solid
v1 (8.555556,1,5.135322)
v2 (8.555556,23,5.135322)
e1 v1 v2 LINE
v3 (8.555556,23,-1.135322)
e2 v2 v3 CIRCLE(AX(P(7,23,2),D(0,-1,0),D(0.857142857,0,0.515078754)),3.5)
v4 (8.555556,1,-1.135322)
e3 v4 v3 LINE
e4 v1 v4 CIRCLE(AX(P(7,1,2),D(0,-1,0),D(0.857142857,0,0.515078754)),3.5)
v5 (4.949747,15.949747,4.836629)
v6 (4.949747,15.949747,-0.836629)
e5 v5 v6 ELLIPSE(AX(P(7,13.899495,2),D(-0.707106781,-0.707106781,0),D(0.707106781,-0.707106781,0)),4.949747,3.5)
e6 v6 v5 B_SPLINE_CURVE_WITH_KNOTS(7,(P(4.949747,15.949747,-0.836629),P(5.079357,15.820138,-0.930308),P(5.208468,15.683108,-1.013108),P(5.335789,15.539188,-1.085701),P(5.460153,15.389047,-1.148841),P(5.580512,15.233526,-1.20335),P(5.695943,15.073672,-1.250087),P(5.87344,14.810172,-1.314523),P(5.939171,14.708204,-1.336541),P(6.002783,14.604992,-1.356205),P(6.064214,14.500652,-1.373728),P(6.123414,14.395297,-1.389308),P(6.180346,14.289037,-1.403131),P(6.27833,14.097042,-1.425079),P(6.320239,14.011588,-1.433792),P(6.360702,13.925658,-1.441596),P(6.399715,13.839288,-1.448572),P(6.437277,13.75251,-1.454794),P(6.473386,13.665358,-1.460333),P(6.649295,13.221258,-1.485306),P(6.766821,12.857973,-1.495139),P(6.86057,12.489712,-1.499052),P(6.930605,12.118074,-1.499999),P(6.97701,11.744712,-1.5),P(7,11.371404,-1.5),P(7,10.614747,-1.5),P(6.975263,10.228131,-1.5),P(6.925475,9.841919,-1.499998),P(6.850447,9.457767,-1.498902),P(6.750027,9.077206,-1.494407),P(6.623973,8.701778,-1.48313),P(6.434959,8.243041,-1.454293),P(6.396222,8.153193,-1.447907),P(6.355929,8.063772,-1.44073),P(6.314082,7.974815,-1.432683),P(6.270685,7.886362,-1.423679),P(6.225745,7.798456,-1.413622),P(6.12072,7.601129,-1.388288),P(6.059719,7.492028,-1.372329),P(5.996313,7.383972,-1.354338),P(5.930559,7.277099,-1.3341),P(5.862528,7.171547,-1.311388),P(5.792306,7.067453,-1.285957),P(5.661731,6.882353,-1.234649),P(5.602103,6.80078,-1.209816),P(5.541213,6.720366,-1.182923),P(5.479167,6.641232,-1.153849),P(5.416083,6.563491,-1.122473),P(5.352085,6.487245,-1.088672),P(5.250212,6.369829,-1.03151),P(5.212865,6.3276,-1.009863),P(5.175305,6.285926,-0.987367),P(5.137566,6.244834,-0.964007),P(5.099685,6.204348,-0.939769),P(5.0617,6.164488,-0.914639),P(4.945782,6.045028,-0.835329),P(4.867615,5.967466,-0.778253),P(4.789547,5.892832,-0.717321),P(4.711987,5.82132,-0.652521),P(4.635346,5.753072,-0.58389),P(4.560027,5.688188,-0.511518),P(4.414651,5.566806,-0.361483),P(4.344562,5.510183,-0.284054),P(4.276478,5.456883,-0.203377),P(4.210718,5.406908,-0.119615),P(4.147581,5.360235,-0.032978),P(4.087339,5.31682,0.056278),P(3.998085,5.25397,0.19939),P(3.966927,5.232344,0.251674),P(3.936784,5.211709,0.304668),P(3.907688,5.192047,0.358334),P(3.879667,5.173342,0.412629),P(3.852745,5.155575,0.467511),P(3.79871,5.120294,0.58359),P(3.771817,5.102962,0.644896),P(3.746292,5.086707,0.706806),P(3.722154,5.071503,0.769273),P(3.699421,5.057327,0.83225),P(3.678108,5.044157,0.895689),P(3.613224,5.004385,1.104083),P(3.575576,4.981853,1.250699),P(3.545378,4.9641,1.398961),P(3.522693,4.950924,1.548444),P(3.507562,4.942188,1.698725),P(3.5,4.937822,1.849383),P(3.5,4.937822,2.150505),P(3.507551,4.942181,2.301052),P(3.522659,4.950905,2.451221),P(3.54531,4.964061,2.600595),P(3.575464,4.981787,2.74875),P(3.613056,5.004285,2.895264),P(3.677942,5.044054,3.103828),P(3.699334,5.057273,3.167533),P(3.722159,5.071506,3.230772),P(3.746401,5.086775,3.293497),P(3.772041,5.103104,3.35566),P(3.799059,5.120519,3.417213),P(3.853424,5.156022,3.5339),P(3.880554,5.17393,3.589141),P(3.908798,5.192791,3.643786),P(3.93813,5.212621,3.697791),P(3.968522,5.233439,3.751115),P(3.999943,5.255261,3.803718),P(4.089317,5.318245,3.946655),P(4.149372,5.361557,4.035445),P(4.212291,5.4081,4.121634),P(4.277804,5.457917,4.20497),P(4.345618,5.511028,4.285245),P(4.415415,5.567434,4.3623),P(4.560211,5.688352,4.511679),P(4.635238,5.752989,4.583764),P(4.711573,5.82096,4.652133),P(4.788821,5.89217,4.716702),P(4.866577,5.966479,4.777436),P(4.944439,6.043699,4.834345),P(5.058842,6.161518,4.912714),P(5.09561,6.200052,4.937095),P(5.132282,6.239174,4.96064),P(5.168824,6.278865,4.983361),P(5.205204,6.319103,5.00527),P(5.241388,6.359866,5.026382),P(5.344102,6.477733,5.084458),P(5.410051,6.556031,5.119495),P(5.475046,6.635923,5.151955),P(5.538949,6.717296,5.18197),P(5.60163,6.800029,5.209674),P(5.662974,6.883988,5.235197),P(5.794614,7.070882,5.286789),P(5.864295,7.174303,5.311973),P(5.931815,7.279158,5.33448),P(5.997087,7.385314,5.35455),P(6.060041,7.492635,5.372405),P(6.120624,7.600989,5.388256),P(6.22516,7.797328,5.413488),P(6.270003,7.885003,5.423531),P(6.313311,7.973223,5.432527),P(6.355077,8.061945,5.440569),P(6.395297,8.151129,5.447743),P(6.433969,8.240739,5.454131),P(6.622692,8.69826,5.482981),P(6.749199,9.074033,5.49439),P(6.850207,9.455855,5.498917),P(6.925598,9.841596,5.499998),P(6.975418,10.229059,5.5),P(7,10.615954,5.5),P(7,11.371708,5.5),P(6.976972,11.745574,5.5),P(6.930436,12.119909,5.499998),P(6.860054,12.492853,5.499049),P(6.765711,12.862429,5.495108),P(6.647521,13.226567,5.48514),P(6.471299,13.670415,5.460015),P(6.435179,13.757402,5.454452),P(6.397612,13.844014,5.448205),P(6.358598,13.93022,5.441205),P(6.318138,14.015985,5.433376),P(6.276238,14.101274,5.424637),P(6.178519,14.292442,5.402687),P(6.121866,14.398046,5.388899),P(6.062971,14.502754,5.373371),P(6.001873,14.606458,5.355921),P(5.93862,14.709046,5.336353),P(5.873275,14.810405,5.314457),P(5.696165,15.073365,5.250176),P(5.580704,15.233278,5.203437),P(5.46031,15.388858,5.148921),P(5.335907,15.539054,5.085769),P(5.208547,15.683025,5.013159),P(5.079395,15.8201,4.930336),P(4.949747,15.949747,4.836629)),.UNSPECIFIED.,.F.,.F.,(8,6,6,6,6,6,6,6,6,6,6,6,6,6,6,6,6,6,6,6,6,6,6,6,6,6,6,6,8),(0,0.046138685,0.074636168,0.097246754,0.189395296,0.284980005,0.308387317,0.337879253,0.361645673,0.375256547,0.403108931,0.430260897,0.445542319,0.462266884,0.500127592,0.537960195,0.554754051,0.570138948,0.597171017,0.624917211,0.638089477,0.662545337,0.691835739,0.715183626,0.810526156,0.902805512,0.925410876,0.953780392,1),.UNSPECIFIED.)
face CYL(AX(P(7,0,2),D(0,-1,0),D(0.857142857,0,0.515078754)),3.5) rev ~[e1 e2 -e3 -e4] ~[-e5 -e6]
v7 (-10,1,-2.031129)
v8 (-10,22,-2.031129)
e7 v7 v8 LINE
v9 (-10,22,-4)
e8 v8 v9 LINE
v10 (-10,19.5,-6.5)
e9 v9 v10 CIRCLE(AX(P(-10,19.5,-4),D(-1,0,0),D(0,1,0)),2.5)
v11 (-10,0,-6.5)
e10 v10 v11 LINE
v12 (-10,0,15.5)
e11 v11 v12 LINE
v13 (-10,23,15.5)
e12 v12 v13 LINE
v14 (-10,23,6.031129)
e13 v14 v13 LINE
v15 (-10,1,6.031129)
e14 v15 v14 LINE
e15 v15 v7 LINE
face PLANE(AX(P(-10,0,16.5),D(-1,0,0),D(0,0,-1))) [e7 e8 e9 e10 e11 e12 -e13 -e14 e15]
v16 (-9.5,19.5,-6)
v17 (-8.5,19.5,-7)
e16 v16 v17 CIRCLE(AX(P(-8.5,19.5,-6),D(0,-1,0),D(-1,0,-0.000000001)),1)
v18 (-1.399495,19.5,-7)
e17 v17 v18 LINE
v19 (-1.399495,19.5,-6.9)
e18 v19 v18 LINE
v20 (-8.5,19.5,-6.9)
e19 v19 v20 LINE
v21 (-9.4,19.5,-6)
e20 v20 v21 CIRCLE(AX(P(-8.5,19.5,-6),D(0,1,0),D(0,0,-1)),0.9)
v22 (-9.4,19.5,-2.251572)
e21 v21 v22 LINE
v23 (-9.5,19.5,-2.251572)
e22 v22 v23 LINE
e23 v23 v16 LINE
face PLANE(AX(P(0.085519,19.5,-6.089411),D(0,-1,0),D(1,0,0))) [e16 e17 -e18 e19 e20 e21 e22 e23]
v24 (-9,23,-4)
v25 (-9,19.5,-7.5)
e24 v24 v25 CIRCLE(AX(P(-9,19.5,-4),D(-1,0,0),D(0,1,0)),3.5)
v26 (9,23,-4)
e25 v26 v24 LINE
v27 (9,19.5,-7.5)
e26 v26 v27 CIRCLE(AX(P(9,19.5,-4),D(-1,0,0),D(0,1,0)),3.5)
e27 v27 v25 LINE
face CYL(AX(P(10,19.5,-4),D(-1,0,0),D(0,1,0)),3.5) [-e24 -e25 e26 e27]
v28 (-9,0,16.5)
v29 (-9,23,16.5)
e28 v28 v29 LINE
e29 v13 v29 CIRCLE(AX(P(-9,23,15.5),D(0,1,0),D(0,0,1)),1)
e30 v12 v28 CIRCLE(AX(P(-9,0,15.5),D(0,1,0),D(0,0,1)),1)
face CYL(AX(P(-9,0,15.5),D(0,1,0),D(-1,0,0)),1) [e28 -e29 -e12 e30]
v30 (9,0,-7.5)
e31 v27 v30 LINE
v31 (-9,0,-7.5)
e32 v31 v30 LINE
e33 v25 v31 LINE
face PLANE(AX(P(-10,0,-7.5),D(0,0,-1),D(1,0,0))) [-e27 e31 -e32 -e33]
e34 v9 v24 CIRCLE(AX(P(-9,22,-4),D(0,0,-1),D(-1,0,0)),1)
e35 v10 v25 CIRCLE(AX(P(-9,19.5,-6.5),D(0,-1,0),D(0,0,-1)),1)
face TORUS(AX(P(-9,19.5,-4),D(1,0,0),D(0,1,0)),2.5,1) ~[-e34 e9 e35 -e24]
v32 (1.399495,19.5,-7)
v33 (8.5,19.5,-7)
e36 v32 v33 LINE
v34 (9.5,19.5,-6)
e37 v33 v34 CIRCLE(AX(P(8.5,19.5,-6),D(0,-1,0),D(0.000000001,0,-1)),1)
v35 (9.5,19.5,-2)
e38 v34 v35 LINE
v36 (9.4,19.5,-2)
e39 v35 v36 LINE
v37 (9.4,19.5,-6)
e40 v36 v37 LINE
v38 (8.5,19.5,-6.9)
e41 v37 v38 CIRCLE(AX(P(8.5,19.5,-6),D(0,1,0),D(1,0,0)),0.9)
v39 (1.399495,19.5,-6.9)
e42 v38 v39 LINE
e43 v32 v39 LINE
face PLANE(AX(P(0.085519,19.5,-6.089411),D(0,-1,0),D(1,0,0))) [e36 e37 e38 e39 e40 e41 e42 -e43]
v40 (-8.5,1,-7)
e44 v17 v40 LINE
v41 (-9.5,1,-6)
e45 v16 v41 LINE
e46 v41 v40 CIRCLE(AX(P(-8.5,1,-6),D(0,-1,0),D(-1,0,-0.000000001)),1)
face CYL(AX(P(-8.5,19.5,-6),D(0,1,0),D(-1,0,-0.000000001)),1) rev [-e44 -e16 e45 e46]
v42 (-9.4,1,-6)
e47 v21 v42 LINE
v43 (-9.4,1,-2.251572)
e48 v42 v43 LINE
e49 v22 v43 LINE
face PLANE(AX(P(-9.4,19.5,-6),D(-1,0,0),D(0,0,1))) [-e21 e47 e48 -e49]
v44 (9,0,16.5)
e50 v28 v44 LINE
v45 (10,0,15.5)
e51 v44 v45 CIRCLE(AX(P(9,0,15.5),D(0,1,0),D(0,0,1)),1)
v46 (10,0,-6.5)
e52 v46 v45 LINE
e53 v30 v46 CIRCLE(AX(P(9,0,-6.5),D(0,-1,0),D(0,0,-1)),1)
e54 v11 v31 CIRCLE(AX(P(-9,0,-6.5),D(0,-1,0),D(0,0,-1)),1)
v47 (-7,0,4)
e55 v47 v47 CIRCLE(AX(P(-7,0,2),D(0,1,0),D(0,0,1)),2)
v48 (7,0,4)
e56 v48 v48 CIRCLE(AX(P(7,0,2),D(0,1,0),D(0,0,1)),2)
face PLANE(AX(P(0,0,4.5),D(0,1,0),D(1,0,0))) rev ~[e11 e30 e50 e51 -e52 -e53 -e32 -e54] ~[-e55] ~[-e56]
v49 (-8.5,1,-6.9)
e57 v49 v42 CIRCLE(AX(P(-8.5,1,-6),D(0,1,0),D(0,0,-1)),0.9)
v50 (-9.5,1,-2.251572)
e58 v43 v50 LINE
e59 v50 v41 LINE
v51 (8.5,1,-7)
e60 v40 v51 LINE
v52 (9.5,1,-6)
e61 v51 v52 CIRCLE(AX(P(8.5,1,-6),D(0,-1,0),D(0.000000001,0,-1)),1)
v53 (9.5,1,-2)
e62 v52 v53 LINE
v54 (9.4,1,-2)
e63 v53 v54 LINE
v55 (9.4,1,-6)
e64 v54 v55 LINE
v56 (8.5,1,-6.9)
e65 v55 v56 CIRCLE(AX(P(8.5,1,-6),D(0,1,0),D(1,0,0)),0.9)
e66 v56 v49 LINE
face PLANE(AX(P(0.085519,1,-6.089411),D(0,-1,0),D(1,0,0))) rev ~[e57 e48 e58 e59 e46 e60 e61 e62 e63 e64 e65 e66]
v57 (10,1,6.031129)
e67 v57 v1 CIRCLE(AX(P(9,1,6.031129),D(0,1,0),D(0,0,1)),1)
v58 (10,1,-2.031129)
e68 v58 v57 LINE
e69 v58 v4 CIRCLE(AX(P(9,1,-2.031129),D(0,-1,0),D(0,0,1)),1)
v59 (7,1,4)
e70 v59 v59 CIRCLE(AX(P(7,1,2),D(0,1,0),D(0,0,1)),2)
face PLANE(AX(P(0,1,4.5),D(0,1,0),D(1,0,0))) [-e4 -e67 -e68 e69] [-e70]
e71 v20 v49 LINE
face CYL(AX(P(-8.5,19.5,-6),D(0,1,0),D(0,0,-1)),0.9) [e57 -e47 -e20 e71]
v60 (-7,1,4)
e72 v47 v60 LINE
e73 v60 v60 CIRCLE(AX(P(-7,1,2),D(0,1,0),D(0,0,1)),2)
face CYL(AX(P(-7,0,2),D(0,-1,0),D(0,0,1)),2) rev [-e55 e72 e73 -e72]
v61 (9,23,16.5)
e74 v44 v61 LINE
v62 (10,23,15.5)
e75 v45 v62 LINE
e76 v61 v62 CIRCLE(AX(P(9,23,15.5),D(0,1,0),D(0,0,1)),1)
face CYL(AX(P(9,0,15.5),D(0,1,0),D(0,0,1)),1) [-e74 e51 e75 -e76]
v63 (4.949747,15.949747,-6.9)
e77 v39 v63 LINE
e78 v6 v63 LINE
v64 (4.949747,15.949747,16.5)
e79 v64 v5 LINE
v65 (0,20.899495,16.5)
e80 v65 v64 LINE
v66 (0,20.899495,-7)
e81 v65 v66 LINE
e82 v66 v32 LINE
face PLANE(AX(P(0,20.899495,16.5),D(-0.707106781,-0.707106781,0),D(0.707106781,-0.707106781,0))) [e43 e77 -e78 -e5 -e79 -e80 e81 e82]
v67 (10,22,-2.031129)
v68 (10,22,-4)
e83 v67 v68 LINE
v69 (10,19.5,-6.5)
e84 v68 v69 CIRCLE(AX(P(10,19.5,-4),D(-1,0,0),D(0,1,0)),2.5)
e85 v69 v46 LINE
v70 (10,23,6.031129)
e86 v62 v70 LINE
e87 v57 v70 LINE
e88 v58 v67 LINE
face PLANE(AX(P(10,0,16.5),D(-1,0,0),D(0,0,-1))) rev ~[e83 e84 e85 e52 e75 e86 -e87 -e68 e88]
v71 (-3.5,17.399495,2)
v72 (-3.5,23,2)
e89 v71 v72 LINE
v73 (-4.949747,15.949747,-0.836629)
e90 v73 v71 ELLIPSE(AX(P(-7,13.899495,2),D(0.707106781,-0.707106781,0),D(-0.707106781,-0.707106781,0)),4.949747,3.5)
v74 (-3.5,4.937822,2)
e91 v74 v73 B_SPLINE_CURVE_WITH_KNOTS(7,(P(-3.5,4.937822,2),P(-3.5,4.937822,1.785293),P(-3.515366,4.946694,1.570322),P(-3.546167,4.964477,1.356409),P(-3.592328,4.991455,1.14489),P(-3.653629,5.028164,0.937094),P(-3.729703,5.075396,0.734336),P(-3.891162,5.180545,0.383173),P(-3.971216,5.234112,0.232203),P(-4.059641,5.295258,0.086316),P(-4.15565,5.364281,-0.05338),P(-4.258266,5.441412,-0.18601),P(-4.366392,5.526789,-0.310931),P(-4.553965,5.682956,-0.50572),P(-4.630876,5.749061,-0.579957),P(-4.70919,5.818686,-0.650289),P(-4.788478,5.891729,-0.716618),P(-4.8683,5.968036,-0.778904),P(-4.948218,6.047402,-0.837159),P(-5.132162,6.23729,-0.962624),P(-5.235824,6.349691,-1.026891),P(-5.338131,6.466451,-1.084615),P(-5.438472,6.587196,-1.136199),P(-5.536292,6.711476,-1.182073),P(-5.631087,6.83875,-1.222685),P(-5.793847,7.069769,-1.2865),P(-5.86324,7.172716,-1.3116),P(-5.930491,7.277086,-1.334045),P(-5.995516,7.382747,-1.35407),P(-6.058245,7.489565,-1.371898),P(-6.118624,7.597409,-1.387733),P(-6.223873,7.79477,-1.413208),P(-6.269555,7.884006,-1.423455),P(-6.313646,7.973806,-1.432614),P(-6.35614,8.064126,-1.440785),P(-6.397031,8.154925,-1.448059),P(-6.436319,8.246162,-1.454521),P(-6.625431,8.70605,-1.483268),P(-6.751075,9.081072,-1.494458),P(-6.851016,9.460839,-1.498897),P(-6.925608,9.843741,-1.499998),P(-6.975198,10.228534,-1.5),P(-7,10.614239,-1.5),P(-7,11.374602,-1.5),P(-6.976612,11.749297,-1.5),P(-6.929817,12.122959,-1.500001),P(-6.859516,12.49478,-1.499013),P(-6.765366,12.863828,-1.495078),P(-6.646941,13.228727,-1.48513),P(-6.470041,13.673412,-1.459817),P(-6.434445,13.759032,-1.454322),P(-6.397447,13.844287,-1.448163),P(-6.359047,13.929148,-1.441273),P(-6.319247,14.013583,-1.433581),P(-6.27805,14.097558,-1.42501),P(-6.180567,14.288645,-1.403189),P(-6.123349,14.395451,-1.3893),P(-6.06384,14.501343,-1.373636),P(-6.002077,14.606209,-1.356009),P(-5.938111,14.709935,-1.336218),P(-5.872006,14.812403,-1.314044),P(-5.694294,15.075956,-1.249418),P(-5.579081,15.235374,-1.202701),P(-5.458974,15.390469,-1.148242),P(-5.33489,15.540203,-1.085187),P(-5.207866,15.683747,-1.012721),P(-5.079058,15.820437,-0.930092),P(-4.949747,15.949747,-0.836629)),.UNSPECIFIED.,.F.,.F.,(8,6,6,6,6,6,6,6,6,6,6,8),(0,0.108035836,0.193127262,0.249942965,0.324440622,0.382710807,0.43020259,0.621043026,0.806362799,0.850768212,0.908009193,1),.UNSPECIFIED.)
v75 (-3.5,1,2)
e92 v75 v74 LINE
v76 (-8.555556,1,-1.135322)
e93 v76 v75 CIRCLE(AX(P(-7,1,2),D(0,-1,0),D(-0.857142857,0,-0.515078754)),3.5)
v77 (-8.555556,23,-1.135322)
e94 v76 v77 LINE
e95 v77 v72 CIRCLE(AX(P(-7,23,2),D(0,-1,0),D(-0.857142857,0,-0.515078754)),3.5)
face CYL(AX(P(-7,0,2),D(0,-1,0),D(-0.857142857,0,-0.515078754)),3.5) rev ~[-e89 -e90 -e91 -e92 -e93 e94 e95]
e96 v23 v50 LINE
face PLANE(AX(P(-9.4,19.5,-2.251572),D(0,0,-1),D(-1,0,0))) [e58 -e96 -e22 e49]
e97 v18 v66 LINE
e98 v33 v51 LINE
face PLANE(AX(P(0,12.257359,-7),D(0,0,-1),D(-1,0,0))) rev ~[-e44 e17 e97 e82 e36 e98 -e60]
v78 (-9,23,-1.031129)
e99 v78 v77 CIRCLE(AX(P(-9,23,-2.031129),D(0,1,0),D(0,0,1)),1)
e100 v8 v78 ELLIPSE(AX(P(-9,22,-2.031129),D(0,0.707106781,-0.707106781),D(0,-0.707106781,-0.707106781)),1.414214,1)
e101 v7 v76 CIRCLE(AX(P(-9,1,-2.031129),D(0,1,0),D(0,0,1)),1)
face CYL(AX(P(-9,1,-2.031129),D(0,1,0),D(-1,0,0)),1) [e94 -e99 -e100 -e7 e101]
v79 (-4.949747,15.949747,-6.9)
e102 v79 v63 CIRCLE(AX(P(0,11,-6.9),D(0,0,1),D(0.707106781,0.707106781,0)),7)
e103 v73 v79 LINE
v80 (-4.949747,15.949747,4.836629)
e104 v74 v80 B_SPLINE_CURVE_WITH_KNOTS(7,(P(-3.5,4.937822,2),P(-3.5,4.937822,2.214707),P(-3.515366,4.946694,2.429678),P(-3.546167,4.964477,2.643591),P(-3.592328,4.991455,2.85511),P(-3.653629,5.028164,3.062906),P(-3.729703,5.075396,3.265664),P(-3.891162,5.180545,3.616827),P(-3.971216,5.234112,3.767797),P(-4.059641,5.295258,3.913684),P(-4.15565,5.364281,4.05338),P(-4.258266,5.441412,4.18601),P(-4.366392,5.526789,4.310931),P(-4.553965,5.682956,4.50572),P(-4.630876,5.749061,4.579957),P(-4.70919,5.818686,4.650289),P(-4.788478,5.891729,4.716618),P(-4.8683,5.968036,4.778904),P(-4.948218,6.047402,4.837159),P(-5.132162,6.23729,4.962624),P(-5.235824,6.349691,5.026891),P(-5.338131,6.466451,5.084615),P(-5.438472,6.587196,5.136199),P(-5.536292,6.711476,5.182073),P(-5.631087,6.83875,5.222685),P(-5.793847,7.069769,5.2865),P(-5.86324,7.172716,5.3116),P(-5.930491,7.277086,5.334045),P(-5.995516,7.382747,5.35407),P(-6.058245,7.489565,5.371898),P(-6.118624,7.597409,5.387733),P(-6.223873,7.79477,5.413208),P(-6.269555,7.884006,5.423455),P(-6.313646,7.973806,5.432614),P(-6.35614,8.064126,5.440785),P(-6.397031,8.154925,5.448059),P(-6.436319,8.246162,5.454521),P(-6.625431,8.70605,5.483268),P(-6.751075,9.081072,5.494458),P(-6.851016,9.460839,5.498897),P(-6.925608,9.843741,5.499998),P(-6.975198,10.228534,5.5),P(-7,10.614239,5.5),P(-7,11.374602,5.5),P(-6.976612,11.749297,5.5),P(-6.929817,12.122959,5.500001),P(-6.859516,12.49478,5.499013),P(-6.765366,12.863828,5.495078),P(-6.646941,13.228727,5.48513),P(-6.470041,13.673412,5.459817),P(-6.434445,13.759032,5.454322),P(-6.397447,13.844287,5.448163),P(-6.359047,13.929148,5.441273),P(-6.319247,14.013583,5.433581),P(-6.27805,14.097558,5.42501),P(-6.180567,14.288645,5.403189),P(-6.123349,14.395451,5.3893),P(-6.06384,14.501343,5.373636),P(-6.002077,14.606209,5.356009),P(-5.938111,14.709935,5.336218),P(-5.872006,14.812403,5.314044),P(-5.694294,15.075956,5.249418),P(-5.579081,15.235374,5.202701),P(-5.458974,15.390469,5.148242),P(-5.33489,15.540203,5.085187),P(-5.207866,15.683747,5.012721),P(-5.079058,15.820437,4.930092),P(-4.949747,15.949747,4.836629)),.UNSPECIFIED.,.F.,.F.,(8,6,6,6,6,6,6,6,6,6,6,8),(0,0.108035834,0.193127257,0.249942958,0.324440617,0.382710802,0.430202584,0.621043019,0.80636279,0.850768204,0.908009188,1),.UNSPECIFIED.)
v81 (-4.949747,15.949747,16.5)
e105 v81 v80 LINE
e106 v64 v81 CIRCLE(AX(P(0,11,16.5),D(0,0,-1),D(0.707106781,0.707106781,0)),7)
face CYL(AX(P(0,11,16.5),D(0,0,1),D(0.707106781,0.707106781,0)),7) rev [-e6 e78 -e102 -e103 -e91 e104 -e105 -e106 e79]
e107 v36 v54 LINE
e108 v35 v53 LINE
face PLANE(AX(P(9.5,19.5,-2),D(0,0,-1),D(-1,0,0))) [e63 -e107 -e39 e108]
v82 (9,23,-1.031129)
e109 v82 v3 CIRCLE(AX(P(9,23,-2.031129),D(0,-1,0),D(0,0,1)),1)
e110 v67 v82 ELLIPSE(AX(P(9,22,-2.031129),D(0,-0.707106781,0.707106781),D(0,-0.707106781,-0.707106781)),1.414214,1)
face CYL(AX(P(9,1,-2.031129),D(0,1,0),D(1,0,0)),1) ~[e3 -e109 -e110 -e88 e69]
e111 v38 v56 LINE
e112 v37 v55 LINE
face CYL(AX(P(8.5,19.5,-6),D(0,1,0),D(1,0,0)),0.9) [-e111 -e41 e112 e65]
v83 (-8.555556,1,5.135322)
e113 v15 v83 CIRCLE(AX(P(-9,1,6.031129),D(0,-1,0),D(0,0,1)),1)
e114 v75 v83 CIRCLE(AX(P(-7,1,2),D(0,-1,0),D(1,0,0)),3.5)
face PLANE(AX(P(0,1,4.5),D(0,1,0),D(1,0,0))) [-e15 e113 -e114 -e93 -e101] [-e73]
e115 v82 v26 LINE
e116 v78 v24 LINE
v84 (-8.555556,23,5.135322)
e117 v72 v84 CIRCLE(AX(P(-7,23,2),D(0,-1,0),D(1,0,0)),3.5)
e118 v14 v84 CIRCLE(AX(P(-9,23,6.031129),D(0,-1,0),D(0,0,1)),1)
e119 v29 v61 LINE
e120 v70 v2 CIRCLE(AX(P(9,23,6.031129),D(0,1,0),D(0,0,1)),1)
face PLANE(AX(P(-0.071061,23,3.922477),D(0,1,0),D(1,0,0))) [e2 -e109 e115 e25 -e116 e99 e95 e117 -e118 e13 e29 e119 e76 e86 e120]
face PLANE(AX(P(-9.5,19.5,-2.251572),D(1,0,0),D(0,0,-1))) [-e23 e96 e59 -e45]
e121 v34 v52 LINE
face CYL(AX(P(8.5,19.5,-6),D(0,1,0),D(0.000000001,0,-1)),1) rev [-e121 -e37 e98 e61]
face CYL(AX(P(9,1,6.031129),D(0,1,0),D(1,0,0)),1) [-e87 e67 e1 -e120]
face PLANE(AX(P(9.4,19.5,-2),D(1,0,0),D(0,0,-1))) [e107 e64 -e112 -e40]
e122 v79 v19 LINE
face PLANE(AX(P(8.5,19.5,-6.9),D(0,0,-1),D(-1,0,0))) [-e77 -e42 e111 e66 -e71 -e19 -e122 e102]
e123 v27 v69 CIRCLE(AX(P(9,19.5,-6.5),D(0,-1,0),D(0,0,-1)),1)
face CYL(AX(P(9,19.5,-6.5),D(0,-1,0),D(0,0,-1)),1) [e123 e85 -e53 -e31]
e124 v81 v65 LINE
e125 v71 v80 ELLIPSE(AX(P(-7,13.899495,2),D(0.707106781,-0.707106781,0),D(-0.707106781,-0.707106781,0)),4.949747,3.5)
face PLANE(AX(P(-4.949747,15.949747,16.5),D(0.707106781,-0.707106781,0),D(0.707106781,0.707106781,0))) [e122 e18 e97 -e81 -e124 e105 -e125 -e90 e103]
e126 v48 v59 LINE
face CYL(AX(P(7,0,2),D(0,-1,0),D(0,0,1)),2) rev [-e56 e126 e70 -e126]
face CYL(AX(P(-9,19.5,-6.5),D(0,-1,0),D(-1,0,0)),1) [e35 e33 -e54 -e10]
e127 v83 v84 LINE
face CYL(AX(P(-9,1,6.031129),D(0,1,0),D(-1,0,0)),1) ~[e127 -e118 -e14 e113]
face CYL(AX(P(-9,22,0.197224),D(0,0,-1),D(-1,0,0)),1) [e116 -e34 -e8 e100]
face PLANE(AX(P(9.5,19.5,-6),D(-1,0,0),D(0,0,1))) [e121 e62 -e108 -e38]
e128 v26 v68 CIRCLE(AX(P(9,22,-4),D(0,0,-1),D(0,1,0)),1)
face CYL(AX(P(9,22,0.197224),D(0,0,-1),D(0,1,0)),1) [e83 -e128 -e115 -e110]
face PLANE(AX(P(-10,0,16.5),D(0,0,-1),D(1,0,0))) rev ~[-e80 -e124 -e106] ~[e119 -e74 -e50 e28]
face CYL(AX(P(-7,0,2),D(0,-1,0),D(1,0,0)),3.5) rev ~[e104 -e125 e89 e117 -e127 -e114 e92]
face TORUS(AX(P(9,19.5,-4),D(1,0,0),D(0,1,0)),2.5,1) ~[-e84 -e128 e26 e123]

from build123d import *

# Parameters (mm, degrees)
SKETCH1_W           = 20
SKETCH1_H           = 24
SKETCH1_R           = 2
BOSS_EXTRUDE2_DEPTH = 1
BOSS_EXTRUDE3_DEPTH = 23
SKETCH1_5_R         = 2
BOSS_EXTRUDE4_DEPTH = 5
CUT_EXTRUDE1_DEPTH  = 23.5
FILLET2_R           = 3.5
FILLET1_R           = 1
CUT_EXTRUDE3_START  = -19.5
CUT_EXTRUDE3_DEPTH  = 18.5


with BuildPart() as part:
    # Sketch1 → Boss-Extrude2 (new body)
    with BuildSketch(Plane(origin=(0, 0, 0), x_dir=(1, 0, 0), z_dir=(0, 1, 0))):
        with Locations((0, -4.5)):
            Rectangle(SKETCH1_W, SKETCH1_H)
        with Locations(Location((-7, -2, 0), (0, 0, 270))):
            Circle(SKETCH1_R, mode=Mode.SUBTRACT)
        with Locations(Location((7, -2, 0), (0, 0, 270))):
            Circle(SKETCH1_R, mode=Mode.SUBTRACT)
    extrude(amount=BOSS_EXTRUDE2_DEPTH)

    # Sketch1<4> → Boss-Extrude3 (add)
    with BuildSketch(Plane(origin=(0, 0, 0), x_dir=(1, 0, 0), z_dir=(0, 1, 0))):
        with BuildLine():
            Line((10, 7.5), (-10, 7.5))
            Line((-10, 7.5), (-10, -0.197224362))
            ThreePointArc((-10, -0.197224362), (-6.064585653, 1.372684391), (-3.5, -2))
            ThreePointArc((-3.5, -2), (-6.064585653, -5.372684391), (-10, -3.802775638))
            Line((-10, -3.802775638), (-10, -16.5))
            Line((-10, -16.5), (10, -16.5))
            Line((10, -16.5), (10, -3.802775638))
            ThreePointArc((10, -3.802775638), (3.5, -2), (10, -0.197224362))
            Line((10, -0.197224362), (10, 7.5))
        make_face()
    extrude(amount=BOSS_EXTRUDE3_DEPTH)

    # Sketch2 → Cut-Extrude1 (cut)
    with BuildSketch(Plane.XY.offset(16.5)):
        with BuildLine():
            Line((-4.949747468, 15.949747468), (0, 20.899494937))
            Line((0, 20.899494937), (4.949747468, 15.949747468))
            ThreePointArc((4.949747468, 15.949747468), (0, 4), (-4.949747468, 15.949747468))
        make_face()
    extrude(amount=-CUT_EXTRUDE1_DEPTH, mode=Mode.SUBTRACT)

    # Fillet2
    fillet2_edges = [part.edges().sort_by_distance(p)[0] for p in [
        (0, 23, -7.5),
    ]]
    fillet(fillet2_edges, radius=FILLET2_R)

    # Fillet1
    fillet1_edges = [part.edges().sort_by_distance(p)[0] for p in [
        (10, 12, 3.802775638),
        (10, 12, 0.197224362),
        (-10, 12, 3.802775638),
        (-10, 12, 0.197224362),
        (-10, 11.5, 16.5),
        (10, 11.5, 16.5),
        (10, 9.75, -7.5),
        (-10, 9.75, -7.5),
        (10, 23, -1.901387819),
        (10, 21.974873734, -6.474873734),
        (-10, 23, -1.901387819),
        (-10, 21.974873734, -6.474873734),
    ]]
    fillet(fillet1_edges, radius=FILLET1_R)

    # Sketch4 → Cut-Extrude3 (cut)
    with BuildSketch(Plane.XZ.offset(CUT_EXTRUDE3_START)):
        with BuildLine():
            Line((-9.5, -2.251571667), (-9.5, -6))
            ThreePointArc((-9.5, -6), (-9.207106781, -6.707106781), (-8.5, -7))
            Line((-8.5, -7), (8.5, -7))
            ThreePointArc((8.5, -7), (9.207106781, -6.707106781), (9.5, -6))
            Line((9.5, -6), (9.5, -2))
            Line((9.5, -2), (9.4, -2))
            Line((9.4, -2), (9.4, -6))
            ThreePointArc((9.4, -6), (9.136396103, -6.636396103), (8.5, -6.9))
            Line((8.5, -6.9), (-8.5, -6.9))
            ThreePointArc((-8.5, -6.9), (-9.136396103, -6.636396103), (-9.4, -6))
            Line((-9.4, -6), (-9.4, -2.251571667))
            Line((-9.4, -2.251571667), (-9.5, -2.251571667))
        make_face()
    extrude(amount=CUT_EXTRUDE3_DEPTH, mode=Mode.SUBTRACT)


with BuildPart() as body_2:
    # Sketch1<5> → Boss-Extrude4 (new body)
    # profile 1 of 2: a face of its own
    with BuildSketch(Plane(origin=(0, 0, 0), x_dir=(1, 0, 0), z_dir=(0, 1, 0))):
        with BuildLine():
            ThreePointArc((-3.5, -2), (-6.064585653, 1.372684391), (-10, -0.197224362))
            Line((-10, -0.197224362), (-10, -3.802775638))
            ThreePointArc((-10, -3.802775638), (-6.064585653, -5.372684391), (-3.5, -2))
        make_face()
        with Locations(Location((-7, -2, 0), (0, 0, 270))):
            Circle(SKETCH1_5_R, mode=Mode.SUBTRACT)
    # profile 2 of 2: a face of its own
    with BuildSketch(Plane(origin=(0, 0, 0), x_dir=(1, 0, 0), z_dir=(0, 1, 0))):
        with Locations(Location((-7, -2, 0), (0, 0, 270))):
            Circle(SKETCH1_5_R)
    extrude(amount=BOSS_EXTRUDE4_DEPTH)


solid = part.part
